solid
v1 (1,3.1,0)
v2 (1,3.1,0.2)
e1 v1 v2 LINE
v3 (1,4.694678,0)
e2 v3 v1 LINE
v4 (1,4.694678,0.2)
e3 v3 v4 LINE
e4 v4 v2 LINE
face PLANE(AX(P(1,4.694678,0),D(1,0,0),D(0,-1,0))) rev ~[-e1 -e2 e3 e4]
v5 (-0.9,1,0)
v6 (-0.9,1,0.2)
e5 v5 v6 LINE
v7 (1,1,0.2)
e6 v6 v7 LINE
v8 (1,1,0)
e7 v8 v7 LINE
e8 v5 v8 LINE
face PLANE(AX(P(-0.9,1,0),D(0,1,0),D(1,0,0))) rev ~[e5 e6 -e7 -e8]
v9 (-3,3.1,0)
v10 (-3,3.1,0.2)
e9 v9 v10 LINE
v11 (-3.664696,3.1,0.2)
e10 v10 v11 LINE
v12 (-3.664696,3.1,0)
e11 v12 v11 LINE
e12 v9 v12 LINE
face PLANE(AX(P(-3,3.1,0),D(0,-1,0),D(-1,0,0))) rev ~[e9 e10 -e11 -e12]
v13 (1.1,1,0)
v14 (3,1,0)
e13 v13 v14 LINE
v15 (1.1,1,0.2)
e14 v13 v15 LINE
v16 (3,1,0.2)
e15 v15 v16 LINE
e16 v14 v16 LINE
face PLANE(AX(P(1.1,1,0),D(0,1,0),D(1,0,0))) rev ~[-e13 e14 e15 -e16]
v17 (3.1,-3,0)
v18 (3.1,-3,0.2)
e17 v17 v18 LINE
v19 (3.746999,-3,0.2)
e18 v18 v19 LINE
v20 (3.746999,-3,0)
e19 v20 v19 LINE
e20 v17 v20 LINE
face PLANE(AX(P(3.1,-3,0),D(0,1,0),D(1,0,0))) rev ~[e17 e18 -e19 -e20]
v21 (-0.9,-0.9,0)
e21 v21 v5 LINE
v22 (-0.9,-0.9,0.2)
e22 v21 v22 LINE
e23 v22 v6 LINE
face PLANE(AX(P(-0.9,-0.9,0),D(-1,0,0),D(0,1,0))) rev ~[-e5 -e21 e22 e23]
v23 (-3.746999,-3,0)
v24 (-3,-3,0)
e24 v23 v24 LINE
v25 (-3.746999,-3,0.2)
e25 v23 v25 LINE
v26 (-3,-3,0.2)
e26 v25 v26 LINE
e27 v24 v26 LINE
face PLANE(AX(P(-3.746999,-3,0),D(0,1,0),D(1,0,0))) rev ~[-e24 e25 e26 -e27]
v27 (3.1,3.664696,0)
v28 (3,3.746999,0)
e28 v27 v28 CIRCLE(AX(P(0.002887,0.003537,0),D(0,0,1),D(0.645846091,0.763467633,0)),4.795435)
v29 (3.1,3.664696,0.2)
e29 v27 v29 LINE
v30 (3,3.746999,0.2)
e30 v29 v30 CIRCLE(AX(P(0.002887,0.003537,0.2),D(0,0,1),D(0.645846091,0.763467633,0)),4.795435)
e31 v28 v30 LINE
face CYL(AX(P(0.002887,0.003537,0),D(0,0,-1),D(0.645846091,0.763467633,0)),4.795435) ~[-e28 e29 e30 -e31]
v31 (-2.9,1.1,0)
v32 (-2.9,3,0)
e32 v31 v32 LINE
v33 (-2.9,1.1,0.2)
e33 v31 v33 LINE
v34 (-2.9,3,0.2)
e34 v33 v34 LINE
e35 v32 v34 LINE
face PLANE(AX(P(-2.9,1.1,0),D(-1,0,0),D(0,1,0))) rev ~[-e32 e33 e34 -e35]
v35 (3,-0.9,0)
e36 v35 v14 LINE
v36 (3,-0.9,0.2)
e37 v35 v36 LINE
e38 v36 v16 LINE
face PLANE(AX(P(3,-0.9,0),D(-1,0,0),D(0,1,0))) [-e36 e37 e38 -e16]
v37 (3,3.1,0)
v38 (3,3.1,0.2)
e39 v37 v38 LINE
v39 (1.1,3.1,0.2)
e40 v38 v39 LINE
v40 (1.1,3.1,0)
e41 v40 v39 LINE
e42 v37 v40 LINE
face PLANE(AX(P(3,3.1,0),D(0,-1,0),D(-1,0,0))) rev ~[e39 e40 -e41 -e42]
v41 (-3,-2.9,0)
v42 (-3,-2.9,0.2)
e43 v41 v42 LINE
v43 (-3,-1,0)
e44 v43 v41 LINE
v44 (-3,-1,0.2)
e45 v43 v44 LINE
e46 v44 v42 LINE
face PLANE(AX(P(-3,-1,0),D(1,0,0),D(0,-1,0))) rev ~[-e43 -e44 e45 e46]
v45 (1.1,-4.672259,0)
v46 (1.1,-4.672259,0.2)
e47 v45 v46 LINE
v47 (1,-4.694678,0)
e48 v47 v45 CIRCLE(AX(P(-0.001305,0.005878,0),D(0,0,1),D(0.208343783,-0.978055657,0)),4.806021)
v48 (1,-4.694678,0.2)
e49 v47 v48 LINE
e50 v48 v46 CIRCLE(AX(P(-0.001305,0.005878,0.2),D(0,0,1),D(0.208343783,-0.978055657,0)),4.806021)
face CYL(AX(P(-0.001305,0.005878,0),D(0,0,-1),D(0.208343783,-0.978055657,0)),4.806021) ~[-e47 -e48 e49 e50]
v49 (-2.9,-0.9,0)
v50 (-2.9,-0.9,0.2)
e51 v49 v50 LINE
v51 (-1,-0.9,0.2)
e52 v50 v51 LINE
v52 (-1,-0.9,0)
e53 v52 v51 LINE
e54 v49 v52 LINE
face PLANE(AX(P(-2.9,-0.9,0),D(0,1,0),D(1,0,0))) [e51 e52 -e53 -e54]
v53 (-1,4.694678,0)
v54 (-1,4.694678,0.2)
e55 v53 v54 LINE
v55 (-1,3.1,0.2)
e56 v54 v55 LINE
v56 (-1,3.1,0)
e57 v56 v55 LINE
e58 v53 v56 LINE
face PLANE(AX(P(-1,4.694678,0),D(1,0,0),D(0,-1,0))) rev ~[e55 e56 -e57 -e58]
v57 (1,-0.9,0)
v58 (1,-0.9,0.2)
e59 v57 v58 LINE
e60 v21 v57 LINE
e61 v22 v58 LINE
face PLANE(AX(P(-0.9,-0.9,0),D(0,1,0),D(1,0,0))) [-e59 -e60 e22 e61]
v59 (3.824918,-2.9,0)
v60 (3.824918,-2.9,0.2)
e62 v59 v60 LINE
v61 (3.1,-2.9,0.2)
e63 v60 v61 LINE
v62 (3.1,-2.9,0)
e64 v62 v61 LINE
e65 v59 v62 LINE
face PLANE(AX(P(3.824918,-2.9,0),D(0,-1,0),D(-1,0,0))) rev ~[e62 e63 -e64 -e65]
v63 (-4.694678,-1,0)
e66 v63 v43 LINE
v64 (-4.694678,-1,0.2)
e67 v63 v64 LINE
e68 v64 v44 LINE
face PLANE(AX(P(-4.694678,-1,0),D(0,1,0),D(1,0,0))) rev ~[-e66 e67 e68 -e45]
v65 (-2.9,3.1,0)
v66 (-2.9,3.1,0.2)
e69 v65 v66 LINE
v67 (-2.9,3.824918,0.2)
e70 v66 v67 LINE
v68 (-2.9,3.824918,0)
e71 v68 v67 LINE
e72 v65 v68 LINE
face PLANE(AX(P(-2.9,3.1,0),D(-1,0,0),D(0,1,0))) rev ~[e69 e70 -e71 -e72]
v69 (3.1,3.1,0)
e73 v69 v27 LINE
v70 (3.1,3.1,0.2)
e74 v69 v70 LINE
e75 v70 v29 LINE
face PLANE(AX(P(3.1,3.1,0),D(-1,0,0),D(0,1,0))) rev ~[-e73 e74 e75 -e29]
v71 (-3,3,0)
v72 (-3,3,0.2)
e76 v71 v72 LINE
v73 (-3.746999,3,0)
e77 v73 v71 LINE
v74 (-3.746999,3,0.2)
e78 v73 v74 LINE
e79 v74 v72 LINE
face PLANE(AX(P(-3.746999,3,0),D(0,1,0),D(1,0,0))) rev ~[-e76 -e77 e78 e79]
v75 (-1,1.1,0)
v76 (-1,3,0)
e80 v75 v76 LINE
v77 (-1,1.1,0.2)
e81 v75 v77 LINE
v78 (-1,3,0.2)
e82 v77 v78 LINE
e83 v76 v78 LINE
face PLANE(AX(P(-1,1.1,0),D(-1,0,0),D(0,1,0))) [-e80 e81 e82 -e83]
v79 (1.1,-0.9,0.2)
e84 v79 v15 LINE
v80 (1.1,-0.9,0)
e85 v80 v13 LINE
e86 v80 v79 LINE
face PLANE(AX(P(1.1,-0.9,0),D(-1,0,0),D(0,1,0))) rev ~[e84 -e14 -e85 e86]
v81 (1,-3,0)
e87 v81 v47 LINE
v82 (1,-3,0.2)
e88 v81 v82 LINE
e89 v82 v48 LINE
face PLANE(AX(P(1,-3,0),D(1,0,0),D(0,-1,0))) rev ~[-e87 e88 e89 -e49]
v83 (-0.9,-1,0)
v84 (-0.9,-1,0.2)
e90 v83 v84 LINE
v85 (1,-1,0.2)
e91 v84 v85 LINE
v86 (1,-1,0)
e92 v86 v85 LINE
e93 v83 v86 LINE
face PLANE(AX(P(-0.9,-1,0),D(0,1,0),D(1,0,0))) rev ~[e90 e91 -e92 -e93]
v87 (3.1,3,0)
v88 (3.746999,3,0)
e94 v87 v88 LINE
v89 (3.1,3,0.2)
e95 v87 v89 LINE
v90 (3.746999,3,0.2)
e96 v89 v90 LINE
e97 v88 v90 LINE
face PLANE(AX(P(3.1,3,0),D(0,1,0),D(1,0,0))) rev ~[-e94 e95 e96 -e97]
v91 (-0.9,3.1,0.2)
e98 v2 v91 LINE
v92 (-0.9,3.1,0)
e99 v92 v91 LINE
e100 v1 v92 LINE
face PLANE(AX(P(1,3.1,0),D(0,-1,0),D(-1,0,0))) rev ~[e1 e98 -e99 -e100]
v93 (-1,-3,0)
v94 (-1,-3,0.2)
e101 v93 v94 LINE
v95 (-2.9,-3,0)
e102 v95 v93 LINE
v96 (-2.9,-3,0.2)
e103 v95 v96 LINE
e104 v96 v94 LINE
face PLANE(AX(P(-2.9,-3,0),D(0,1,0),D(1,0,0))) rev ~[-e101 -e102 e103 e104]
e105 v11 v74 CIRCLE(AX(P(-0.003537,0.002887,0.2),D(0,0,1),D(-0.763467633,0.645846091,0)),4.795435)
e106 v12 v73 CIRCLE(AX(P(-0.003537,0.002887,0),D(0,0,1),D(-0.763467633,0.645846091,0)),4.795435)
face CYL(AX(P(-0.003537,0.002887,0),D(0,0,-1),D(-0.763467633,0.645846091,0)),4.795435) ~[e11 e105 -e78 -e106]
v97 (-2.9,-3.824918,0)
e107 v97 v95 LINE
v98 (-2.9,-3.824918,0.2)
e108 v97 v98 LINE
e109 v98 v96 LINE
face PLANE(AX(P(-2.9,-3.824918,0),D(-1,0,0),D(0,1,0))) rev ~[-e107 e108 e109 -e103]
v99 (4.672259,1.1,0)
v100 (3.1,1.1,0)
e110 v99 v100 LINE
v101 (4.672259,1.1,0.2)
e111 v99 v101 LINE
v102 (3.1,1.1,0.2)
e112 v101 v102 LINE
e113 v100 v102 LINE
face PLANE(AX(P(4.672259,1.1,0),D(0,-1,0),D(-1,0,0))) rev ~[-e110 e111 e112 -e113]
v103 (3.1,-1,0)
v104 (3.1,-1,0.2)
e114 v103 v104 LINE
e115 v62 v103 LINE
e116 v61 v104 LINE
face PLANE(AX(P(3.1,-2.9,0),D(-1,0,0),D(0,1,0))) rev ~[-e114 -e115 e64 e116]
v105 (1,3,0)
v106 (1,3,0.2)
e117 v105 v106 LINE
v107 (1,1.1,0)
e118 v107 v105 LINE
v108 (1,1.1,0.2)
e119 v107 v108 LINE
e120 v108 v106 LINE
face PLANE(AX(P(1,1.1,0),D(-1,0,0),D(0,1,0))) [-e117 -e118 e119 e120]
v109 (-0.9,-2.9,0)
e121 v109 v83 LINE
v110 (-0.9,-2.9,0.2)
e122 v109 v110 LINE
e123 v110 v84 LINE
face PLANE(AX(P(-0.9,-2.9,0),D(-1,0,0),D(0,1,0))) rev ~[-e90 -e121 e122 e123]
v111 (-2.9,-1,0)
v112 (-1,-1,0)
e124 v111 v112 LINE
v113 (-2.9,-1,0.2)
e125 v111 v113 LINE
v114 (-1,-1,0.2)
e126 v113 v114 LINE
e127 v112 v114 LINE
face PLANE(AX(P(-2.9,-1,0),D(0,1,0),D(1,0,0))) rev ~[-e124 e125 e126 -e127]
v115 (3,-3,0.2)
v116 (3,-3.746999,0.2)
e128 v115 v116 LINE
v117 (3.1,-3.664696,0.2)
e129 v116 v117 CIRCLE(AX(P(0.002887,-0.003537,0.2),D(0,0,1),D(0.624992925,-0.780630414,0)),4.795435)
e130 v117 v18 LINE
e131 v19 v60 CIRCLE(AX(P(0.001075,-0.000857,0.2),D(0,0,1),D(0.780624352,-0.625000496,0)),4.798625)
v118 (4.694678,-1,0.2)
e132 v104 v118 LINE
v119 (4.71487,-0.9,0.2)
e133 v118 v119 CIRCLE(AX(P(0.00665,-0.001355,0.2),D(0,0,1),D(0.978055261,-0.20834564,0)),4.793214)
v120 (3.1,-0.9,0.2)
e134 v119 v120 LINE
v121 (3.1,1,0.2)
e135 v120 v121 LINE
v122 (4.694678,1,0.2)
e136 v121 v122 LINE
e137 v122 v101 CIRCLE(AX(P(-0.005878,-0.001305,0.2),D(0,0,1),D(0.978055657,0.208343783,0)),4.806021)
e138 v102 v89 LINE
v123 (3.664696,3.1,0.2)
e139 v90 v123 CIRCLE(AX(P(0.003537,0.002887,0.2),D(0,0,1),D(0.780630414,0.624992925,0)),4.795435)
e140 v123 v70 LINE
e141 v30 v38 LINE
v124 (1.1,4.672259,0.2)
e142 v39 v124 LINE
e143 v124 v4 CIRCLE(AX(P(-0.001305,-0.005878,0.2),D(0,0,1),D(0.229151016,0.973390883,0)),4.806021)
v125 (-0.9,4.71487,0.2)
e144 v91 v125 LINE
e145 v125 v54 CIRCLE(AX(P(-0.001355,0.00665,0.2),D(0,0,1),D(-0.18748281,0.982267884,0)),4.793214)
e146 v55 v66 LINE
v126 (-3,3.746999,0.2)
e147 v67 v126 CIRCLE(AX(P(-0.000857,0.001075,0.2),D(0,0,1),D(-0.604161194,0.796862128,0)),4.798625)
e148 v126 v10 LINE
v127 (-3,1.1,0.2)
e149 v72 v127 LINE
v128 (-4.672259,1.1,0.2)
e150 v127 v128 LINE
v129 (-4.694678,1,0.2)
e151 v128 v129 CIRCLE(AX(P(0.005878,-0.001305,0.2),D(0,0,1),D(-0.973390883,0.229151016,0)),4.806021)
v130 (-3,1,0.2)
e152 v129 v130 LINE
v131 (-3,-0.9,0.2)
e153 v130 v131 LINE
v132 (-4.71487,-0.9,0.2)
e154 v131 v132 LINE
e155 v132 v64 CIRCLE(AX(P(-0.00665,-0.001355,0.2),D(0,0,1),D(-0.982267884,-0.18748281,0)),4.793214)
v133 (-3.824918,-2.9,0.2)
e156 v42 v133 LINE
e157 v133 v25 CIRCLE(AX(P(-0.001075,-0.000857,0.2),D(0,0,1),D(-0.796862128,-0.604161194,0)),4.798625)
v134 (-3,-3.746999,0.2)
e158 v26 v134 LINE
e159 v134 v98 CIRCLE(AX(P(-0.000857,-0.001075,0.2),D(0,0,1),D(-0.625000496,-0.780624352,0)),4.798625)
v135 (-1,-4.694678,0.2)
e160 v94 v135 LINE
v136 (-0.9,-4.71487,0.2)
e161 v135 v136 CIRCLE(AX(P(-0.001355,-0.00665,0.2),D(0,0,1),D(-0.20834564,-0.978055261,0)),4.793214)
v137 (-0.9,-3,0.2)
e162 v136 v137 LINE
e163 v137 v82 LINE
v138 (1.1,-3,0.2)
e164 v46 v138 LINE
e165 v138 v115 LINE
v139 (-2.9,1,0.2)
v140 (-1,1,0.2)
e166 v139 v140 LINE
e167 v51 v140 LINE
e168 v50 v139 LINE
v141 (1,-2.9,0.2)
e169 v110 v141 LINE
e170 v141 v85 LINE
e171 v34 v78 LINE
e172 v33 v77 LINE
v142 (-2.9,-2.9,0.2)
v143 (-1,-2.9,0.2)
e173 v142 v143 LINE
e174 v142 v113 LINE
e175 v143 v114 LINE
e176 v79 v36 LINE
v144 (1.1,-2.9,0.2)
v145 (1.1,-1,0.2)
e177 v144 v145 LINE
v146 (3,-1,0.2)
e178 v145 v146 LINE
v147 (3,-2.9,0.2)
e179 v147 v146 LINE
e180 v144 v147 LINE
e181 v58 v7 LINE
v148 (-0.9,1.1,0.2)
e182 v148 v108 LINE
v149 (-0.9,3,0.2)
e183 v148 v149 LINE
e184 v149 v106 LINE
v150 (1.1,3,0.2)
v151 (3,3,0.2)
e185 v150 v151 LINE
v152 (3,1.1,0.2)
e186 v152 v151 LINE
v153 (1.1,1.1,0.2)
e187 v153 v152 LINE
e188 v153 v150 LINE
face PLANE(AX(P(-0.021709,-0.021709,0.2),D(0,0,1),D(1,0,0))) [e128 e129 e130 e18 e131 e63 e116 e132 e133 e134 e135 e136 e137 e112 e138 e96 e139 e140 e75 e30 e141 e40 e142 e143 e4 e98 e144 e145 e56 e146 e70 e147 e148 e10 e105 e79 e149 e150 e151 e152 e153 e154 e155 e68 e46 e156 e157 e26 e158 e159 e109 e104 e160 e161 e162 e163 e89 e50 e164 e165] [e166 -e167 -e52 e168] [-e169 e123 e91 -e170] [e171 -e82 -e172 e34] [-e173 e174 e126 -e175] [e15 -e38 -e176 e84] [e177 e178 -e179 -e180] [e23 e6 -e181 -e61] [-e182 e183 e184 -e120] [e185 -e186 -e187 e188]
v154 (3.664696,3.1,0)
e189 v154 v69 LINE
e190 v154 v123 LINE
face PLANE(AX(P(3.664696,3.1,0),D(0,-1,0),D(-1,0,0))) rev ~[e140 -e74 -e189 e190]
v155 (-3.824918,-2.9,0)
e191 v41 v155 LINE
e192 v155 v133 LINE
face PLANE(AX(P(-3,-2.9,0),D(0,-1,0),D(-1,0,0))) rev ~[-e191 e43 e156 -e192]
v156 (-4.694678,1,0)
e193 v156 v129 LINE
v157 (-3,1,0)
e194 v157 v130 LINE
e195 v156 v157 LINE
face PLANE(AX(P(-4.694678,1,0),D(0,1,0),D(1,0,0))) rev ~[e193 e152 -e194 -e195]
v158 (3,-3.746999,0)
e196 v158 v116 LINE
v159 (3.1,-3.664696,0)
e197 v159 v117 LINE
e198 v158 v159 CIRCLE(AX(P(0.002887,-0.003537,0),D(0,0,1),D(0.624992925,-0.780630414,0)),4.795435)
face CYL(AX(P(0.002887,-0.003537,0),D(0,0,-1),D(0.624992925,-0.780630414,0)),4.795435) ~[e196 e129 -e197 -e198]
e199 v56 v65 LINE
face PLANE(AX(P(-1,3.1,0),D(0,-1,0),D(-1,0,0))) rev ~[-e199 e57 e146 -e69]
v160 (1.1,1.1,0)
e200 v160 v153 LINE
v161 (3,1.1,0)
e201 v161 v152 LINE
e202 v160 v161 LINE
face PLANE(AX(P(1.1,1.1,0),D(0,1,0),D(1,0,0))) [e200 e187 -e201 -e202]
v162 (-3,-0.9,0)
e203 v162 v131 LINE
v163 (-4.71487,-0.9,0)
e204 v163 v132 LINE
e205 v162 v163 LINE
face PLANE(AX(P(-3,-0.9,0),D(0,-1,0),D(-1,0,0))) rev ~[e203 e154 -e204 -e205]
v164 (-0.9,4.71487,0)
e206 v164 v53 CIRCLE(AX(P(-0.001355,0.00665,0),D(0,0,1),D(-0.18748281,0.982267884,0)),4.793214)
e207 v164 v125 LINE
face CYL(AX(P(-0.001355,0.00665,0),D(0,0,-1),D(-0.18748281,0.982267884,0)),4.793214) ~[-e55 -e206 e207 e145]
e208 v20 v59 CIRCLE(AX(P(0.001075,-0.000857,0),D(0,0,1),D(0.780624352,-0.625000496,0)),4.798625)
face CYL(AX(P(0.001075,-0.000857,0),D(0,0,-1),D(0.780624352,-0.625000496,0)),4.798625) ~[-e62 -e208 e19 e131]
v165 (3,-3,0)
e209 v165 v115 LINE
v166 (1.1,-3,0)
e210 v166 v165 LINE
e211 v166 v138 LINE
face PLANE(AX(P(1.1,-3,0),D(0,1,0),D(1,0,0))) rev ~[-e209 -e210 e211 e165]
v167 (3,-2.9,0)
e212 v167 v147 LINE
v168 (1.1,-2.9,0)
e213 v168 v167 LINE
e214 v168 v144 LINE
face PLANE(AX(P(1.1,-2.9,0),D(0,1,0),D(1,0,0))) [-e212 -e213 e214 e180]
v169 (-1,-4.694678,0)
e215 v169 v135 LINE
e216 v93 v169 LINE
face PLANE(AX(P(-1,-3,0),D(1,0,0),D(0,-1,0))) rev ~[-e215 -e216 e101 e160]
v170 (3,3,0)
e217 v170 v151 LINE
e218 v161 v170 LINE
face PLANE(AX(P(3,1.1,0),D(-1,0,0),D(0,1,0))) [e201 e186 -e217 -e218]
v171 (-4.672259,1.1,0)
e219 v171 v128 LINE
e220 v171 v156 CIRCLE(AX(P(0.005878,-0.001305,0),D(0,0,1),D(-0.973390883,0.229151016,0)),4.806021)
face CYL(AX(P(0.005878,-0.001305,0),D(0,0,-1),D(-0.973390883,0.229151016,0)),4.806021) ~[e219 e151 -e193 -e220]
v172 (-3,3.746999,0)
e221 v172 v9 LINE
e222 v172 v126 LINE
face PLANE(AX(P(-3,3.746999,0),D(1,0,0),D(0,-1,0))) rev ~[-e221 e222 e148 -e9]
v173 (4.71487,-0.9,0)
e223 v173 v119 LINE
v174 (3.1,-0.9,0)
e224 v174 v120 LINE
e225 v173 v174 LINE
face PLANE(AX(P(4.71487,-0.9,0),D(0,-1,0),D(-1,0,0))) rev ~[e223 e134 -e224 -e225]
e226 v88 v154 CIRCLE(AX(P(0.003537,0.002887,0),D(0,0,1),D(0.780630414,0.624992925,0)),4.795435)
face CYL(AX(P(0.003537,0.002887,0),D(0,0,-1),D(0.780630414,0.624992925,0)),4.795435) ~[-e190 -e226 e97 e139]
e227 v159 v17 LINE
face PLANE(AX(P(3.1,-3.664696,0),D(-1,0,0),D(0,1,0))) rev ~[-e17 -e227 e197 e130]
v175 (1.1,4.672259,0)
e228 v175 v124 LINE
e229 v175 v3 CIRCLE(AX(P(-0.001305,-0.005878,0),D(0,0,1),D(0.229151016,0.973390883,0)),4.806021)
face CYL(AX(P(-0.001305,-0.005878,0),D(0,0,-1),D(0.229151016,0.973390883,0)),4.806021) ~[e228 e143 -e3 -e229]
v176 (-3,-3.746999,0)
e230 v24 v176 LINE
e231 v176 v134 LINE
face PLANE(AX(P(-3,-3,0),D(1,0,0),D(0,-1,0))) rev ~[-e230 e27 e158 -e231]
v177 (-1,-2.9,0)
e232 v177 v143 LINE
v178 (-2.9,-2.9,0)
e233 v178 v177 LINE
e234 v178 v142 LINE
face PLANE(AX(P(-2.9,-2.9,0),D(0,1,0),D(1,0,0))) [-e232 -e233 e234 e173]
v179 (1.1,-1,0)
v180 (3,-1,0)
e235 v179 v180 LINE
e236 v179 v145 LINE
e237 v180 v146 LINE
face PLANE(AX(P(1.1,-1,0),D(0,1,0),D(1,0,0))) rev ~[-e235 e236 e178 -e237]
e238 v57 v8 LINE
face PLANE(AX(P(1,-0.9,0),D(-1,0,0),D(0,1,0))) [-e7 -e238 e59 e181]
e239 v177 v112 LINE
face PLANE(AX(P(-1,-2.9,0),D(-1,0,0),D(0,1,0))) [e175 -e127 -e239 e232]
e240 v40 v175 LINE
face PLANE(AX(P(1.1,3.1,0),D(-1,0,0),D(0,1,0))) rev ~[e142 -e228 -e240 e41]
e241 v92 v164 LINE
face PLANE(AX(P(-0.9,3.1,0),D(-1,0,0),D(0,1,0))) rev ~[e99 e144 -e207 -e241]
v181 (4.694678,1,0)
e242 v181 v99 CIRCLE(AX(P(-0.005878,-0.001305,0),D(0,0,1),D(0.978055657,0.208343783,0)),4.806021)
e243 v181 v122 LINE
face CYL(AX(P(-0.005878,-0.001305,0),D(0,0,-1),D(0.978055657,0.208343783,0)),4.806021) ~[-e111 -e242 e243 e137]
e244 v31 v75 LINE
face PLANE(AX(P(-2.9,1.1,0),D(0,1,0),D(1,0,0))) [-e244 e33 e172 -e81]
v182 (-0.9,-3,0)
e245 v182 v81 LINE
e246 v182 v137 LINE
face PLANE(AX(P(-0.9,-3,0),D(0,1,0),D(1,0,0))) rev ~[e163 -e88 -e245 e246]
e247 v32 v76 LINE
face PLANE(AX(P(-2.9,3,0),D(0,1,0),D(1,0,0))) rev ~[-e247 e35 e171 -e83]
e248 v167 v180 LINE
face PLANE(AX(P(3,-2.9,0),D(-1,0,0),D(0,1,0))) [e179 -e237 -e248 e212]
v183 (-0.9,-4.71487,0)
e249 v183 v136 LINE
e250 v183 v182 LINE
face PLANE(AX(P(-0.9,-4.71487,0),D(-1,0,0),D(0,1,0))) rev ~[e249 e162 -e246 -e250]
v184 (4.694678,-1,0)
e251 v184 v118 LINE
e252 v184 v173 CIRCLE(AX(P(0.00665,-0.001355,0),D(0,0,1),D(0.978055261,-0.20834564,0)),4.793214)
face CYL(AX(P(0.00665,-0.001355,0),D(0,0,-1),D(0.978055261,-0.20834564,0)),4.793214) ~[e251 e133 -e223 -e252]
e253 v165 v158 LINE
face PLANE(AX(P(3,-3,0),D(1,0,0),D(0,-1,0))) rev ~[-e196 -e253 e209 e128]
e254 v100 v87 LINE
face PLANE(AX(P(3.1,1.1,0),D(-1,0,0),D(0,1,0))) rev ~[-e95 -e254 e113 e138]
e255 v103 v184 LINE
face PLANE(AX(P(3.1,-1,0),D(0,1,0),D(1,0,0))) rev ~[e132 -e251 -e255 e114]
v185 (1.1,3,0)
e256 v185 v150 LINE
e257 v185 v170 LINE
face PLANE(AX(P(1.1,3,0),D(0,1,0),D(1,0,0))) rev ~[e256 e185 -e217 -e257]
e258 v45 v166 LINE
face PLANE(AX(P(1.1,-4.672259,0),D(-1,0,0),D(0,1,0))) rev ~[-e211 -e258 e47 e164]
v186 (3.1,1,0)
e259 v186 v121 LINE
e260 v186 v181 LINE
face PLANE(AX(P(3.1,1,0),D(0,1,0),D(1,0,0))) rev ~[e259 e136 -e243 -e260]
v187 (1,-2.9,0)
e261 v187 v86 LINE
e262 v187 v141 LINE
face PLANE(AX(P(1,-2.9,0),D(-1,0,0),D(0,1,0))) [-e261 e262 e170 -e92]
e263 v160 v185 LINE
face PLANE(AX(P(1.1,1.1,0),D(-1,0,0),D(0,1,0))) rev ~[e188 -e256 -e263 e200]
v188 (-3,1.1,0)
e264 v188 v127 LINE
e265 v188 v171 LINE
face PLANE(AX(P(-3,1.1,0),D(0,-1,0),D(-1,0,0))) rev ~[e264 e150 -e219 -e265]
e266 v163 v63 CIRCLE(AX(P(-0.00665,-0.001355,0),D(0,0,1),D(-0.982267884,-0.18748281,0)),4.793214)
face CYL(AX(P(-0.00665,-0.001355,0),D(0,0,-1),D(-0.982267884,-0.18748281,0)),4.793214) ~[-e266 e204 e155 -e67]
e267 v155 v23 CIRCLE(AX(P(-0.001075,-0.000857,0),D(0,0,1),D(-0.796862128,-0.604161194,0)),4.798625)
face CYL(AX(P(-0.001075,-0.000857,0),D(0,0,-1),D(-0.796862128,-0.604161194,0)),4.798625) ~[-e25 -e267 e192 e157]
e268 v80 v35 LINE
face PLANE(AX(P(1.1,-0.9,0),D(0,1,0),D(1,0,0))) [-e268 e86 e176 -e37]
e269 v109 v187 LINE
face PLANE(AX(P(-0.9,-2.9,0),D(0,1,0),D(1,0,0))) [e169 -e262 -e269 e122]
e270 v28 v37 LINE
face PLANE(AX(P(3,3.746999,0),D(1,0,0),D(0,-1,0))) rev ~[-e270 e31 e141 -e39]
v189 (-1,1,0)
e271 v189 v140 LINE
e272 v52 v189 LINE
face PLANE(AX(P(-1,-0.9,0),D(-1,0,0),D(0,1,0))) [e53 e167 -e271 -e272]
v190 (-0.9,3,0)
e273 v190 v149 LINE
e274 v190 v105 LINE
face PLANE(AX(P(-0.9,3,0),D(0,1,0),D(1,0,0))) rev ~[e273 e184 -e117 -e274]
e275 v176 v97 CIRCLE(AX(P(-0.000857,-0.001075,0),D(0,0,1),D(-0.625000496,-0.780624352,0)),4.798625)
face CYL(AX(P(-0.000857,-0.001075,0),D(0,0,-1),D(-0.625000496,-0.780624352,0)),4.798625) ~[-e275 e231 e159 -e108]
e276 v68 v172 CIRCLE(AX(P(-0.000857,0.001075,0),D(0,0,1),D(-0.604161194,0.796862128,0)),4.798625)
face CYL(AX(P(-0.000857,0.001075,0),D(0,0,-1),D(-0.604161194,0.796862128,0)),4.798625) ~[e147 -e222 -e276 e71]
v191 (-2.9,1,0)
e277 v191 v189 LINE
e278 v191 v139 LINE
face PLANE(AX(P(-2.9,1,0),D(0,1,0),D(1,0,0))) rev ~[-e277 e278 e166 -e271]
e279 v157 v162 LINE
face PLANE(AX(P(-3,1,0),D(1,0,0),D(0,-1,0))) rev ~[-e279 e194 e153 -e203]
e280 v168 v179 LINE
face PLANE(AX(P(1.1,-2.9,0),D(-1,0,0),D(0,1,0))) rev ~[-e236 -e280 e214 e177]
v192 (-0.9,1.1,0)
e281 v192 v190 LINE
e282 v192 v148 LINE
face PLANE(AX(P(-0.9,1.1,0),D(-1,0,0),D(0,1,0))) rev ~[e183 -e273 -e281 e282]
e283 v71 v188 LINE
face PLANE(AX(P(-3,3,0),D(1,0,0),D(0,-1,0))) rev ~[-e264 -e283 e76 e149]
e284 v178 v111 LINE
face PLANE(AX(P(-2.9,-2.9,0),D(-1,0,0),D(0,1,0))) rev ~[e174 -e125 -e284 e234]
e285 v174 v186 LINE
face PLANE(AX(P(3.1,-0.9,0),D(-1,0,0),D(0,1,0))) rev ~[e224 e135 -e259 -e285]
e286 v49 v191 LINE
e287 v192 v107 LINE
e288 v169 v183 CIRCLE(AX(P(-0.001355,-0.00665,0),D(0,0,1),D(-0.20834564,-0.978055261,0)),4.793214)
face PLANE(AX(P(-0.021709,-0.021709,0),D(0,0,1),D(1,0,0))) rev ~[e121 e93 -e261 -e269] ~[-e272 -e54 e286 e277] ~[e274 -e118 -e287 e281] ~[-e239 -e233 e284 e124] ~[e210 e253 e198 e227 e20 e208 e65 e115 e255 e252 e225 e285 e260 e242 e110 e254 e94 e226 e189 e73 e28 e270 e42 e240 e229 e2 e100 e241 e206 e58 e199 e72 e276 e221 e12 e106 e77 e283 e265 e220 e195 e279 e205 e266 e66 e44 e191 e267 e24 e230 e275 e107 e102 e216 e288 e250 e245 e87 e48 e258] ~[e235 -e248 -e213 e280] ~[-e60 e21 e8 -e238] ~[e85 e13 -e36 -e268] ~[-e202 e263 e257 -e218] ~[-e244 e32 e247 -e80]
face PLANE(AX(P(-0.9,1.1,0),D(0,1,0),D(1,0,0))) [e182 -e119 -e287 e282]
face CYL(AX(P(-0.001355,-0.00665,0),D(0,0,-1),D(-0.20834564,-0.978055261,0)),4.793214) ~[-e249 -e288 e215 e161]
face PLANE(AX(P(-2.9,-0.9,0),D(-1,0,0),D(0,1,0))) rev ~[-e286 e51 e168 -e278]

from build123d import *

# Parameters (mm, degrees)
F0_W     = 1.9
F0_H     = 1.9
F1_DEPTH = 0.2


with BuildPart() as f1:
    # F0 (on Top) → F1 (new body)
    with BuildSketch(Plane.XY):
        with BuildLine():
            ThreePointArc((-2.9, 3.824918), (-2.950257, 3.786289), (-3, 3.746999))
            Line((-3, 3.746999), (-3, 3.1))
            Line((-3, 3.1), (-3.664696, 3.1))
            ThreePointArc((-3.664696, 3.1), (-3.706185, 3.050278), (-3.746999, 3))
            Line((-3.746999, 3), (-3, 3))
            Line((-3, 3), (-3, 1.1))
            Line((-3, 1.1), (-4.672259, 1.1))
            ThreePointArc((-4.672259, 1.1), (-4.683735, 1.05006), (-4.694678, 1))
            Line((-4.694678, 1), (-3, 1))
            Line((-3, 1), (-3, -0.9))
            Line((-3, -0.9), (-4.71487, -0.9))
            ThreePointArc((-4.71487, -0.9), (-4.70504, -0.950054), (-4.694678, -1))
            Line((-4.694678, -1), (-3, -1))
            Line((-3, -1), (-3, -2.9))
            Line((-3, -2.9), (-3.824918, -2.9))
            ThreePointArc((-3.824918, -2.9), (-3.786289, -2.950257), (-3.746999, -3))
            Line((-3.746999, -3), (-3, -3))
            Line((-3, -3), (-3, -3.746999))
            ThreePointArc((-3, -3.746999), (-2.950257, -3.786289), (-2.9, -3.824918))
            Line((-2.9, -3.824918), (-2.9, -3))
            Line((-2.9, -3), (-1, -3))
            Line((-1, -3), (-1, -4.694678))
            ThreePointArc((-1, -4.694678), (-0.950054, -4.70504), (-0.9, -4.71487))
            Line((-0.9, -4.71487), (-0.9, -3))
            Line((-0.9, -3), (1, -3))
            Line((1, -3), (1, -4.694678))
            ThreePointArc((1, -4.694678), (1.05006, -4.683735), (1.1, -4.672259))
            Line((1.1, -4.672259), (1.1, -3))
            Line((1.1, -3), (3, -3))
            Line((3, -3), (3, -3.746999))
            ThreePointArc((3, -3.746999), (3.050278, -3.706185), (3.1, -3.664696))
            Line((3.1, -3.664696), (3.1, -3))
            Line((3.1, -3), (3.746999, -3))
            ThreePointArc((3.746999, -3), (3.786289, -2.950257), (3.824918, -2.9))
            Line((3.824918, -2.9), (3.1, -2.9))
            Line((3.1, -2.9), (3.1, -1))
            Line((3.1, -1), (4.694678, -1))
            ThreePointArc((4.694678, -1), (4.70504, -0.950054), (4.71487, -0.9))
            Line((4.71487, -0.9), (3.1, -0.9))
            Line((3.1, -0.9), (3.1, 1))
            Line((3.1, 1), (4.694678, 1))
            ThreePointArc((4.694678, 1), (4.683735, 1.05006), (4.672259, 1.1))
            Line((4.672259, 1.1), (3.1, 1.1))
            Line((3.1, 1.1), (3.1, 3))
            Line((3.1, 3), (3.746999, 3))
            ThreePointArc((3.746999, 3), (3.706185, 3.050278), (3.664696, 3.1))
            Line((3.664696, 3.1), (3.1, 3.1))
            Line((3.1, 3.1), (3.1, 3.664696))
            ThreePointArc((3.1, 3.664696), (3.050278, 3.706185), (3, 3.746999))
            Line((3, 3.746999), (3, 3.1))
            Line((3, 3.1), (1.1, 3.1))
            Line((1.1, 3.1), (1.1, 4.672259))
            ThreePointArc((1.1, 4.672259), (1.05006, 4.683735), (1, 4.694678))
            Line((1, 4.694678), (1, 3.1))
            Line((1, 3.1), (-0.9, 3.1))
            Line((-0.9, 3.1), (-0.9, 4.71487))
            ThreePointArc((-0.9, 4.71487), (-0.950054, 4.70504), (-1, 4.694678))
            Line((-1, 4.694678), (-1, 3.1))
            Line((-1, 3.1), (-2.9, 3.1))
            Line((-2.9, 3.1), (-2.9, 3.824918))
        make_face()
        with Locations((-1.95, -1.95)):
            Rectangle(F0_W, F0_H, mode=Mode.SUBTRACT)
        with Locations((0.05, -1.95)):
            Rectangle(F0_W, F0_H, mode=Mode.SUBTRACT)
        with Locations((2.05, -1.95)):
            Rectangle(F0_W, F0_H, mode=Mode.SUBTRACT)
        with Locations((-1.95, 0.05)):
            Rectangle(F0_W, F0_H, mode=Mode.SUBTRACT)
        with Locations((-1.95, 2.05)):
            Rectangle(F0_W, F0_H, mode=Mode.SUBTRACT)
        with Locations((0.05, 0.05)):
            Rectangle(F0_W, F0_H, mode=Mode.SUBTRACT)
        with Locations((2.05, 0.05)):
            Rectangle(F0_W, F0_H, mode=Mode.SUBTRACT)
        with Locations((0.05, 2.05)):
            Rectangle(F0_W, F0_H, mode=Mode.SUBTRACT)
        with Locations((2.05, 2.05)):
            Rectangle(F0_W, F0_H, mode=Mode.SUBTRACT)
    extrude(amount=F1_DEPTH)


solid = f1.part
